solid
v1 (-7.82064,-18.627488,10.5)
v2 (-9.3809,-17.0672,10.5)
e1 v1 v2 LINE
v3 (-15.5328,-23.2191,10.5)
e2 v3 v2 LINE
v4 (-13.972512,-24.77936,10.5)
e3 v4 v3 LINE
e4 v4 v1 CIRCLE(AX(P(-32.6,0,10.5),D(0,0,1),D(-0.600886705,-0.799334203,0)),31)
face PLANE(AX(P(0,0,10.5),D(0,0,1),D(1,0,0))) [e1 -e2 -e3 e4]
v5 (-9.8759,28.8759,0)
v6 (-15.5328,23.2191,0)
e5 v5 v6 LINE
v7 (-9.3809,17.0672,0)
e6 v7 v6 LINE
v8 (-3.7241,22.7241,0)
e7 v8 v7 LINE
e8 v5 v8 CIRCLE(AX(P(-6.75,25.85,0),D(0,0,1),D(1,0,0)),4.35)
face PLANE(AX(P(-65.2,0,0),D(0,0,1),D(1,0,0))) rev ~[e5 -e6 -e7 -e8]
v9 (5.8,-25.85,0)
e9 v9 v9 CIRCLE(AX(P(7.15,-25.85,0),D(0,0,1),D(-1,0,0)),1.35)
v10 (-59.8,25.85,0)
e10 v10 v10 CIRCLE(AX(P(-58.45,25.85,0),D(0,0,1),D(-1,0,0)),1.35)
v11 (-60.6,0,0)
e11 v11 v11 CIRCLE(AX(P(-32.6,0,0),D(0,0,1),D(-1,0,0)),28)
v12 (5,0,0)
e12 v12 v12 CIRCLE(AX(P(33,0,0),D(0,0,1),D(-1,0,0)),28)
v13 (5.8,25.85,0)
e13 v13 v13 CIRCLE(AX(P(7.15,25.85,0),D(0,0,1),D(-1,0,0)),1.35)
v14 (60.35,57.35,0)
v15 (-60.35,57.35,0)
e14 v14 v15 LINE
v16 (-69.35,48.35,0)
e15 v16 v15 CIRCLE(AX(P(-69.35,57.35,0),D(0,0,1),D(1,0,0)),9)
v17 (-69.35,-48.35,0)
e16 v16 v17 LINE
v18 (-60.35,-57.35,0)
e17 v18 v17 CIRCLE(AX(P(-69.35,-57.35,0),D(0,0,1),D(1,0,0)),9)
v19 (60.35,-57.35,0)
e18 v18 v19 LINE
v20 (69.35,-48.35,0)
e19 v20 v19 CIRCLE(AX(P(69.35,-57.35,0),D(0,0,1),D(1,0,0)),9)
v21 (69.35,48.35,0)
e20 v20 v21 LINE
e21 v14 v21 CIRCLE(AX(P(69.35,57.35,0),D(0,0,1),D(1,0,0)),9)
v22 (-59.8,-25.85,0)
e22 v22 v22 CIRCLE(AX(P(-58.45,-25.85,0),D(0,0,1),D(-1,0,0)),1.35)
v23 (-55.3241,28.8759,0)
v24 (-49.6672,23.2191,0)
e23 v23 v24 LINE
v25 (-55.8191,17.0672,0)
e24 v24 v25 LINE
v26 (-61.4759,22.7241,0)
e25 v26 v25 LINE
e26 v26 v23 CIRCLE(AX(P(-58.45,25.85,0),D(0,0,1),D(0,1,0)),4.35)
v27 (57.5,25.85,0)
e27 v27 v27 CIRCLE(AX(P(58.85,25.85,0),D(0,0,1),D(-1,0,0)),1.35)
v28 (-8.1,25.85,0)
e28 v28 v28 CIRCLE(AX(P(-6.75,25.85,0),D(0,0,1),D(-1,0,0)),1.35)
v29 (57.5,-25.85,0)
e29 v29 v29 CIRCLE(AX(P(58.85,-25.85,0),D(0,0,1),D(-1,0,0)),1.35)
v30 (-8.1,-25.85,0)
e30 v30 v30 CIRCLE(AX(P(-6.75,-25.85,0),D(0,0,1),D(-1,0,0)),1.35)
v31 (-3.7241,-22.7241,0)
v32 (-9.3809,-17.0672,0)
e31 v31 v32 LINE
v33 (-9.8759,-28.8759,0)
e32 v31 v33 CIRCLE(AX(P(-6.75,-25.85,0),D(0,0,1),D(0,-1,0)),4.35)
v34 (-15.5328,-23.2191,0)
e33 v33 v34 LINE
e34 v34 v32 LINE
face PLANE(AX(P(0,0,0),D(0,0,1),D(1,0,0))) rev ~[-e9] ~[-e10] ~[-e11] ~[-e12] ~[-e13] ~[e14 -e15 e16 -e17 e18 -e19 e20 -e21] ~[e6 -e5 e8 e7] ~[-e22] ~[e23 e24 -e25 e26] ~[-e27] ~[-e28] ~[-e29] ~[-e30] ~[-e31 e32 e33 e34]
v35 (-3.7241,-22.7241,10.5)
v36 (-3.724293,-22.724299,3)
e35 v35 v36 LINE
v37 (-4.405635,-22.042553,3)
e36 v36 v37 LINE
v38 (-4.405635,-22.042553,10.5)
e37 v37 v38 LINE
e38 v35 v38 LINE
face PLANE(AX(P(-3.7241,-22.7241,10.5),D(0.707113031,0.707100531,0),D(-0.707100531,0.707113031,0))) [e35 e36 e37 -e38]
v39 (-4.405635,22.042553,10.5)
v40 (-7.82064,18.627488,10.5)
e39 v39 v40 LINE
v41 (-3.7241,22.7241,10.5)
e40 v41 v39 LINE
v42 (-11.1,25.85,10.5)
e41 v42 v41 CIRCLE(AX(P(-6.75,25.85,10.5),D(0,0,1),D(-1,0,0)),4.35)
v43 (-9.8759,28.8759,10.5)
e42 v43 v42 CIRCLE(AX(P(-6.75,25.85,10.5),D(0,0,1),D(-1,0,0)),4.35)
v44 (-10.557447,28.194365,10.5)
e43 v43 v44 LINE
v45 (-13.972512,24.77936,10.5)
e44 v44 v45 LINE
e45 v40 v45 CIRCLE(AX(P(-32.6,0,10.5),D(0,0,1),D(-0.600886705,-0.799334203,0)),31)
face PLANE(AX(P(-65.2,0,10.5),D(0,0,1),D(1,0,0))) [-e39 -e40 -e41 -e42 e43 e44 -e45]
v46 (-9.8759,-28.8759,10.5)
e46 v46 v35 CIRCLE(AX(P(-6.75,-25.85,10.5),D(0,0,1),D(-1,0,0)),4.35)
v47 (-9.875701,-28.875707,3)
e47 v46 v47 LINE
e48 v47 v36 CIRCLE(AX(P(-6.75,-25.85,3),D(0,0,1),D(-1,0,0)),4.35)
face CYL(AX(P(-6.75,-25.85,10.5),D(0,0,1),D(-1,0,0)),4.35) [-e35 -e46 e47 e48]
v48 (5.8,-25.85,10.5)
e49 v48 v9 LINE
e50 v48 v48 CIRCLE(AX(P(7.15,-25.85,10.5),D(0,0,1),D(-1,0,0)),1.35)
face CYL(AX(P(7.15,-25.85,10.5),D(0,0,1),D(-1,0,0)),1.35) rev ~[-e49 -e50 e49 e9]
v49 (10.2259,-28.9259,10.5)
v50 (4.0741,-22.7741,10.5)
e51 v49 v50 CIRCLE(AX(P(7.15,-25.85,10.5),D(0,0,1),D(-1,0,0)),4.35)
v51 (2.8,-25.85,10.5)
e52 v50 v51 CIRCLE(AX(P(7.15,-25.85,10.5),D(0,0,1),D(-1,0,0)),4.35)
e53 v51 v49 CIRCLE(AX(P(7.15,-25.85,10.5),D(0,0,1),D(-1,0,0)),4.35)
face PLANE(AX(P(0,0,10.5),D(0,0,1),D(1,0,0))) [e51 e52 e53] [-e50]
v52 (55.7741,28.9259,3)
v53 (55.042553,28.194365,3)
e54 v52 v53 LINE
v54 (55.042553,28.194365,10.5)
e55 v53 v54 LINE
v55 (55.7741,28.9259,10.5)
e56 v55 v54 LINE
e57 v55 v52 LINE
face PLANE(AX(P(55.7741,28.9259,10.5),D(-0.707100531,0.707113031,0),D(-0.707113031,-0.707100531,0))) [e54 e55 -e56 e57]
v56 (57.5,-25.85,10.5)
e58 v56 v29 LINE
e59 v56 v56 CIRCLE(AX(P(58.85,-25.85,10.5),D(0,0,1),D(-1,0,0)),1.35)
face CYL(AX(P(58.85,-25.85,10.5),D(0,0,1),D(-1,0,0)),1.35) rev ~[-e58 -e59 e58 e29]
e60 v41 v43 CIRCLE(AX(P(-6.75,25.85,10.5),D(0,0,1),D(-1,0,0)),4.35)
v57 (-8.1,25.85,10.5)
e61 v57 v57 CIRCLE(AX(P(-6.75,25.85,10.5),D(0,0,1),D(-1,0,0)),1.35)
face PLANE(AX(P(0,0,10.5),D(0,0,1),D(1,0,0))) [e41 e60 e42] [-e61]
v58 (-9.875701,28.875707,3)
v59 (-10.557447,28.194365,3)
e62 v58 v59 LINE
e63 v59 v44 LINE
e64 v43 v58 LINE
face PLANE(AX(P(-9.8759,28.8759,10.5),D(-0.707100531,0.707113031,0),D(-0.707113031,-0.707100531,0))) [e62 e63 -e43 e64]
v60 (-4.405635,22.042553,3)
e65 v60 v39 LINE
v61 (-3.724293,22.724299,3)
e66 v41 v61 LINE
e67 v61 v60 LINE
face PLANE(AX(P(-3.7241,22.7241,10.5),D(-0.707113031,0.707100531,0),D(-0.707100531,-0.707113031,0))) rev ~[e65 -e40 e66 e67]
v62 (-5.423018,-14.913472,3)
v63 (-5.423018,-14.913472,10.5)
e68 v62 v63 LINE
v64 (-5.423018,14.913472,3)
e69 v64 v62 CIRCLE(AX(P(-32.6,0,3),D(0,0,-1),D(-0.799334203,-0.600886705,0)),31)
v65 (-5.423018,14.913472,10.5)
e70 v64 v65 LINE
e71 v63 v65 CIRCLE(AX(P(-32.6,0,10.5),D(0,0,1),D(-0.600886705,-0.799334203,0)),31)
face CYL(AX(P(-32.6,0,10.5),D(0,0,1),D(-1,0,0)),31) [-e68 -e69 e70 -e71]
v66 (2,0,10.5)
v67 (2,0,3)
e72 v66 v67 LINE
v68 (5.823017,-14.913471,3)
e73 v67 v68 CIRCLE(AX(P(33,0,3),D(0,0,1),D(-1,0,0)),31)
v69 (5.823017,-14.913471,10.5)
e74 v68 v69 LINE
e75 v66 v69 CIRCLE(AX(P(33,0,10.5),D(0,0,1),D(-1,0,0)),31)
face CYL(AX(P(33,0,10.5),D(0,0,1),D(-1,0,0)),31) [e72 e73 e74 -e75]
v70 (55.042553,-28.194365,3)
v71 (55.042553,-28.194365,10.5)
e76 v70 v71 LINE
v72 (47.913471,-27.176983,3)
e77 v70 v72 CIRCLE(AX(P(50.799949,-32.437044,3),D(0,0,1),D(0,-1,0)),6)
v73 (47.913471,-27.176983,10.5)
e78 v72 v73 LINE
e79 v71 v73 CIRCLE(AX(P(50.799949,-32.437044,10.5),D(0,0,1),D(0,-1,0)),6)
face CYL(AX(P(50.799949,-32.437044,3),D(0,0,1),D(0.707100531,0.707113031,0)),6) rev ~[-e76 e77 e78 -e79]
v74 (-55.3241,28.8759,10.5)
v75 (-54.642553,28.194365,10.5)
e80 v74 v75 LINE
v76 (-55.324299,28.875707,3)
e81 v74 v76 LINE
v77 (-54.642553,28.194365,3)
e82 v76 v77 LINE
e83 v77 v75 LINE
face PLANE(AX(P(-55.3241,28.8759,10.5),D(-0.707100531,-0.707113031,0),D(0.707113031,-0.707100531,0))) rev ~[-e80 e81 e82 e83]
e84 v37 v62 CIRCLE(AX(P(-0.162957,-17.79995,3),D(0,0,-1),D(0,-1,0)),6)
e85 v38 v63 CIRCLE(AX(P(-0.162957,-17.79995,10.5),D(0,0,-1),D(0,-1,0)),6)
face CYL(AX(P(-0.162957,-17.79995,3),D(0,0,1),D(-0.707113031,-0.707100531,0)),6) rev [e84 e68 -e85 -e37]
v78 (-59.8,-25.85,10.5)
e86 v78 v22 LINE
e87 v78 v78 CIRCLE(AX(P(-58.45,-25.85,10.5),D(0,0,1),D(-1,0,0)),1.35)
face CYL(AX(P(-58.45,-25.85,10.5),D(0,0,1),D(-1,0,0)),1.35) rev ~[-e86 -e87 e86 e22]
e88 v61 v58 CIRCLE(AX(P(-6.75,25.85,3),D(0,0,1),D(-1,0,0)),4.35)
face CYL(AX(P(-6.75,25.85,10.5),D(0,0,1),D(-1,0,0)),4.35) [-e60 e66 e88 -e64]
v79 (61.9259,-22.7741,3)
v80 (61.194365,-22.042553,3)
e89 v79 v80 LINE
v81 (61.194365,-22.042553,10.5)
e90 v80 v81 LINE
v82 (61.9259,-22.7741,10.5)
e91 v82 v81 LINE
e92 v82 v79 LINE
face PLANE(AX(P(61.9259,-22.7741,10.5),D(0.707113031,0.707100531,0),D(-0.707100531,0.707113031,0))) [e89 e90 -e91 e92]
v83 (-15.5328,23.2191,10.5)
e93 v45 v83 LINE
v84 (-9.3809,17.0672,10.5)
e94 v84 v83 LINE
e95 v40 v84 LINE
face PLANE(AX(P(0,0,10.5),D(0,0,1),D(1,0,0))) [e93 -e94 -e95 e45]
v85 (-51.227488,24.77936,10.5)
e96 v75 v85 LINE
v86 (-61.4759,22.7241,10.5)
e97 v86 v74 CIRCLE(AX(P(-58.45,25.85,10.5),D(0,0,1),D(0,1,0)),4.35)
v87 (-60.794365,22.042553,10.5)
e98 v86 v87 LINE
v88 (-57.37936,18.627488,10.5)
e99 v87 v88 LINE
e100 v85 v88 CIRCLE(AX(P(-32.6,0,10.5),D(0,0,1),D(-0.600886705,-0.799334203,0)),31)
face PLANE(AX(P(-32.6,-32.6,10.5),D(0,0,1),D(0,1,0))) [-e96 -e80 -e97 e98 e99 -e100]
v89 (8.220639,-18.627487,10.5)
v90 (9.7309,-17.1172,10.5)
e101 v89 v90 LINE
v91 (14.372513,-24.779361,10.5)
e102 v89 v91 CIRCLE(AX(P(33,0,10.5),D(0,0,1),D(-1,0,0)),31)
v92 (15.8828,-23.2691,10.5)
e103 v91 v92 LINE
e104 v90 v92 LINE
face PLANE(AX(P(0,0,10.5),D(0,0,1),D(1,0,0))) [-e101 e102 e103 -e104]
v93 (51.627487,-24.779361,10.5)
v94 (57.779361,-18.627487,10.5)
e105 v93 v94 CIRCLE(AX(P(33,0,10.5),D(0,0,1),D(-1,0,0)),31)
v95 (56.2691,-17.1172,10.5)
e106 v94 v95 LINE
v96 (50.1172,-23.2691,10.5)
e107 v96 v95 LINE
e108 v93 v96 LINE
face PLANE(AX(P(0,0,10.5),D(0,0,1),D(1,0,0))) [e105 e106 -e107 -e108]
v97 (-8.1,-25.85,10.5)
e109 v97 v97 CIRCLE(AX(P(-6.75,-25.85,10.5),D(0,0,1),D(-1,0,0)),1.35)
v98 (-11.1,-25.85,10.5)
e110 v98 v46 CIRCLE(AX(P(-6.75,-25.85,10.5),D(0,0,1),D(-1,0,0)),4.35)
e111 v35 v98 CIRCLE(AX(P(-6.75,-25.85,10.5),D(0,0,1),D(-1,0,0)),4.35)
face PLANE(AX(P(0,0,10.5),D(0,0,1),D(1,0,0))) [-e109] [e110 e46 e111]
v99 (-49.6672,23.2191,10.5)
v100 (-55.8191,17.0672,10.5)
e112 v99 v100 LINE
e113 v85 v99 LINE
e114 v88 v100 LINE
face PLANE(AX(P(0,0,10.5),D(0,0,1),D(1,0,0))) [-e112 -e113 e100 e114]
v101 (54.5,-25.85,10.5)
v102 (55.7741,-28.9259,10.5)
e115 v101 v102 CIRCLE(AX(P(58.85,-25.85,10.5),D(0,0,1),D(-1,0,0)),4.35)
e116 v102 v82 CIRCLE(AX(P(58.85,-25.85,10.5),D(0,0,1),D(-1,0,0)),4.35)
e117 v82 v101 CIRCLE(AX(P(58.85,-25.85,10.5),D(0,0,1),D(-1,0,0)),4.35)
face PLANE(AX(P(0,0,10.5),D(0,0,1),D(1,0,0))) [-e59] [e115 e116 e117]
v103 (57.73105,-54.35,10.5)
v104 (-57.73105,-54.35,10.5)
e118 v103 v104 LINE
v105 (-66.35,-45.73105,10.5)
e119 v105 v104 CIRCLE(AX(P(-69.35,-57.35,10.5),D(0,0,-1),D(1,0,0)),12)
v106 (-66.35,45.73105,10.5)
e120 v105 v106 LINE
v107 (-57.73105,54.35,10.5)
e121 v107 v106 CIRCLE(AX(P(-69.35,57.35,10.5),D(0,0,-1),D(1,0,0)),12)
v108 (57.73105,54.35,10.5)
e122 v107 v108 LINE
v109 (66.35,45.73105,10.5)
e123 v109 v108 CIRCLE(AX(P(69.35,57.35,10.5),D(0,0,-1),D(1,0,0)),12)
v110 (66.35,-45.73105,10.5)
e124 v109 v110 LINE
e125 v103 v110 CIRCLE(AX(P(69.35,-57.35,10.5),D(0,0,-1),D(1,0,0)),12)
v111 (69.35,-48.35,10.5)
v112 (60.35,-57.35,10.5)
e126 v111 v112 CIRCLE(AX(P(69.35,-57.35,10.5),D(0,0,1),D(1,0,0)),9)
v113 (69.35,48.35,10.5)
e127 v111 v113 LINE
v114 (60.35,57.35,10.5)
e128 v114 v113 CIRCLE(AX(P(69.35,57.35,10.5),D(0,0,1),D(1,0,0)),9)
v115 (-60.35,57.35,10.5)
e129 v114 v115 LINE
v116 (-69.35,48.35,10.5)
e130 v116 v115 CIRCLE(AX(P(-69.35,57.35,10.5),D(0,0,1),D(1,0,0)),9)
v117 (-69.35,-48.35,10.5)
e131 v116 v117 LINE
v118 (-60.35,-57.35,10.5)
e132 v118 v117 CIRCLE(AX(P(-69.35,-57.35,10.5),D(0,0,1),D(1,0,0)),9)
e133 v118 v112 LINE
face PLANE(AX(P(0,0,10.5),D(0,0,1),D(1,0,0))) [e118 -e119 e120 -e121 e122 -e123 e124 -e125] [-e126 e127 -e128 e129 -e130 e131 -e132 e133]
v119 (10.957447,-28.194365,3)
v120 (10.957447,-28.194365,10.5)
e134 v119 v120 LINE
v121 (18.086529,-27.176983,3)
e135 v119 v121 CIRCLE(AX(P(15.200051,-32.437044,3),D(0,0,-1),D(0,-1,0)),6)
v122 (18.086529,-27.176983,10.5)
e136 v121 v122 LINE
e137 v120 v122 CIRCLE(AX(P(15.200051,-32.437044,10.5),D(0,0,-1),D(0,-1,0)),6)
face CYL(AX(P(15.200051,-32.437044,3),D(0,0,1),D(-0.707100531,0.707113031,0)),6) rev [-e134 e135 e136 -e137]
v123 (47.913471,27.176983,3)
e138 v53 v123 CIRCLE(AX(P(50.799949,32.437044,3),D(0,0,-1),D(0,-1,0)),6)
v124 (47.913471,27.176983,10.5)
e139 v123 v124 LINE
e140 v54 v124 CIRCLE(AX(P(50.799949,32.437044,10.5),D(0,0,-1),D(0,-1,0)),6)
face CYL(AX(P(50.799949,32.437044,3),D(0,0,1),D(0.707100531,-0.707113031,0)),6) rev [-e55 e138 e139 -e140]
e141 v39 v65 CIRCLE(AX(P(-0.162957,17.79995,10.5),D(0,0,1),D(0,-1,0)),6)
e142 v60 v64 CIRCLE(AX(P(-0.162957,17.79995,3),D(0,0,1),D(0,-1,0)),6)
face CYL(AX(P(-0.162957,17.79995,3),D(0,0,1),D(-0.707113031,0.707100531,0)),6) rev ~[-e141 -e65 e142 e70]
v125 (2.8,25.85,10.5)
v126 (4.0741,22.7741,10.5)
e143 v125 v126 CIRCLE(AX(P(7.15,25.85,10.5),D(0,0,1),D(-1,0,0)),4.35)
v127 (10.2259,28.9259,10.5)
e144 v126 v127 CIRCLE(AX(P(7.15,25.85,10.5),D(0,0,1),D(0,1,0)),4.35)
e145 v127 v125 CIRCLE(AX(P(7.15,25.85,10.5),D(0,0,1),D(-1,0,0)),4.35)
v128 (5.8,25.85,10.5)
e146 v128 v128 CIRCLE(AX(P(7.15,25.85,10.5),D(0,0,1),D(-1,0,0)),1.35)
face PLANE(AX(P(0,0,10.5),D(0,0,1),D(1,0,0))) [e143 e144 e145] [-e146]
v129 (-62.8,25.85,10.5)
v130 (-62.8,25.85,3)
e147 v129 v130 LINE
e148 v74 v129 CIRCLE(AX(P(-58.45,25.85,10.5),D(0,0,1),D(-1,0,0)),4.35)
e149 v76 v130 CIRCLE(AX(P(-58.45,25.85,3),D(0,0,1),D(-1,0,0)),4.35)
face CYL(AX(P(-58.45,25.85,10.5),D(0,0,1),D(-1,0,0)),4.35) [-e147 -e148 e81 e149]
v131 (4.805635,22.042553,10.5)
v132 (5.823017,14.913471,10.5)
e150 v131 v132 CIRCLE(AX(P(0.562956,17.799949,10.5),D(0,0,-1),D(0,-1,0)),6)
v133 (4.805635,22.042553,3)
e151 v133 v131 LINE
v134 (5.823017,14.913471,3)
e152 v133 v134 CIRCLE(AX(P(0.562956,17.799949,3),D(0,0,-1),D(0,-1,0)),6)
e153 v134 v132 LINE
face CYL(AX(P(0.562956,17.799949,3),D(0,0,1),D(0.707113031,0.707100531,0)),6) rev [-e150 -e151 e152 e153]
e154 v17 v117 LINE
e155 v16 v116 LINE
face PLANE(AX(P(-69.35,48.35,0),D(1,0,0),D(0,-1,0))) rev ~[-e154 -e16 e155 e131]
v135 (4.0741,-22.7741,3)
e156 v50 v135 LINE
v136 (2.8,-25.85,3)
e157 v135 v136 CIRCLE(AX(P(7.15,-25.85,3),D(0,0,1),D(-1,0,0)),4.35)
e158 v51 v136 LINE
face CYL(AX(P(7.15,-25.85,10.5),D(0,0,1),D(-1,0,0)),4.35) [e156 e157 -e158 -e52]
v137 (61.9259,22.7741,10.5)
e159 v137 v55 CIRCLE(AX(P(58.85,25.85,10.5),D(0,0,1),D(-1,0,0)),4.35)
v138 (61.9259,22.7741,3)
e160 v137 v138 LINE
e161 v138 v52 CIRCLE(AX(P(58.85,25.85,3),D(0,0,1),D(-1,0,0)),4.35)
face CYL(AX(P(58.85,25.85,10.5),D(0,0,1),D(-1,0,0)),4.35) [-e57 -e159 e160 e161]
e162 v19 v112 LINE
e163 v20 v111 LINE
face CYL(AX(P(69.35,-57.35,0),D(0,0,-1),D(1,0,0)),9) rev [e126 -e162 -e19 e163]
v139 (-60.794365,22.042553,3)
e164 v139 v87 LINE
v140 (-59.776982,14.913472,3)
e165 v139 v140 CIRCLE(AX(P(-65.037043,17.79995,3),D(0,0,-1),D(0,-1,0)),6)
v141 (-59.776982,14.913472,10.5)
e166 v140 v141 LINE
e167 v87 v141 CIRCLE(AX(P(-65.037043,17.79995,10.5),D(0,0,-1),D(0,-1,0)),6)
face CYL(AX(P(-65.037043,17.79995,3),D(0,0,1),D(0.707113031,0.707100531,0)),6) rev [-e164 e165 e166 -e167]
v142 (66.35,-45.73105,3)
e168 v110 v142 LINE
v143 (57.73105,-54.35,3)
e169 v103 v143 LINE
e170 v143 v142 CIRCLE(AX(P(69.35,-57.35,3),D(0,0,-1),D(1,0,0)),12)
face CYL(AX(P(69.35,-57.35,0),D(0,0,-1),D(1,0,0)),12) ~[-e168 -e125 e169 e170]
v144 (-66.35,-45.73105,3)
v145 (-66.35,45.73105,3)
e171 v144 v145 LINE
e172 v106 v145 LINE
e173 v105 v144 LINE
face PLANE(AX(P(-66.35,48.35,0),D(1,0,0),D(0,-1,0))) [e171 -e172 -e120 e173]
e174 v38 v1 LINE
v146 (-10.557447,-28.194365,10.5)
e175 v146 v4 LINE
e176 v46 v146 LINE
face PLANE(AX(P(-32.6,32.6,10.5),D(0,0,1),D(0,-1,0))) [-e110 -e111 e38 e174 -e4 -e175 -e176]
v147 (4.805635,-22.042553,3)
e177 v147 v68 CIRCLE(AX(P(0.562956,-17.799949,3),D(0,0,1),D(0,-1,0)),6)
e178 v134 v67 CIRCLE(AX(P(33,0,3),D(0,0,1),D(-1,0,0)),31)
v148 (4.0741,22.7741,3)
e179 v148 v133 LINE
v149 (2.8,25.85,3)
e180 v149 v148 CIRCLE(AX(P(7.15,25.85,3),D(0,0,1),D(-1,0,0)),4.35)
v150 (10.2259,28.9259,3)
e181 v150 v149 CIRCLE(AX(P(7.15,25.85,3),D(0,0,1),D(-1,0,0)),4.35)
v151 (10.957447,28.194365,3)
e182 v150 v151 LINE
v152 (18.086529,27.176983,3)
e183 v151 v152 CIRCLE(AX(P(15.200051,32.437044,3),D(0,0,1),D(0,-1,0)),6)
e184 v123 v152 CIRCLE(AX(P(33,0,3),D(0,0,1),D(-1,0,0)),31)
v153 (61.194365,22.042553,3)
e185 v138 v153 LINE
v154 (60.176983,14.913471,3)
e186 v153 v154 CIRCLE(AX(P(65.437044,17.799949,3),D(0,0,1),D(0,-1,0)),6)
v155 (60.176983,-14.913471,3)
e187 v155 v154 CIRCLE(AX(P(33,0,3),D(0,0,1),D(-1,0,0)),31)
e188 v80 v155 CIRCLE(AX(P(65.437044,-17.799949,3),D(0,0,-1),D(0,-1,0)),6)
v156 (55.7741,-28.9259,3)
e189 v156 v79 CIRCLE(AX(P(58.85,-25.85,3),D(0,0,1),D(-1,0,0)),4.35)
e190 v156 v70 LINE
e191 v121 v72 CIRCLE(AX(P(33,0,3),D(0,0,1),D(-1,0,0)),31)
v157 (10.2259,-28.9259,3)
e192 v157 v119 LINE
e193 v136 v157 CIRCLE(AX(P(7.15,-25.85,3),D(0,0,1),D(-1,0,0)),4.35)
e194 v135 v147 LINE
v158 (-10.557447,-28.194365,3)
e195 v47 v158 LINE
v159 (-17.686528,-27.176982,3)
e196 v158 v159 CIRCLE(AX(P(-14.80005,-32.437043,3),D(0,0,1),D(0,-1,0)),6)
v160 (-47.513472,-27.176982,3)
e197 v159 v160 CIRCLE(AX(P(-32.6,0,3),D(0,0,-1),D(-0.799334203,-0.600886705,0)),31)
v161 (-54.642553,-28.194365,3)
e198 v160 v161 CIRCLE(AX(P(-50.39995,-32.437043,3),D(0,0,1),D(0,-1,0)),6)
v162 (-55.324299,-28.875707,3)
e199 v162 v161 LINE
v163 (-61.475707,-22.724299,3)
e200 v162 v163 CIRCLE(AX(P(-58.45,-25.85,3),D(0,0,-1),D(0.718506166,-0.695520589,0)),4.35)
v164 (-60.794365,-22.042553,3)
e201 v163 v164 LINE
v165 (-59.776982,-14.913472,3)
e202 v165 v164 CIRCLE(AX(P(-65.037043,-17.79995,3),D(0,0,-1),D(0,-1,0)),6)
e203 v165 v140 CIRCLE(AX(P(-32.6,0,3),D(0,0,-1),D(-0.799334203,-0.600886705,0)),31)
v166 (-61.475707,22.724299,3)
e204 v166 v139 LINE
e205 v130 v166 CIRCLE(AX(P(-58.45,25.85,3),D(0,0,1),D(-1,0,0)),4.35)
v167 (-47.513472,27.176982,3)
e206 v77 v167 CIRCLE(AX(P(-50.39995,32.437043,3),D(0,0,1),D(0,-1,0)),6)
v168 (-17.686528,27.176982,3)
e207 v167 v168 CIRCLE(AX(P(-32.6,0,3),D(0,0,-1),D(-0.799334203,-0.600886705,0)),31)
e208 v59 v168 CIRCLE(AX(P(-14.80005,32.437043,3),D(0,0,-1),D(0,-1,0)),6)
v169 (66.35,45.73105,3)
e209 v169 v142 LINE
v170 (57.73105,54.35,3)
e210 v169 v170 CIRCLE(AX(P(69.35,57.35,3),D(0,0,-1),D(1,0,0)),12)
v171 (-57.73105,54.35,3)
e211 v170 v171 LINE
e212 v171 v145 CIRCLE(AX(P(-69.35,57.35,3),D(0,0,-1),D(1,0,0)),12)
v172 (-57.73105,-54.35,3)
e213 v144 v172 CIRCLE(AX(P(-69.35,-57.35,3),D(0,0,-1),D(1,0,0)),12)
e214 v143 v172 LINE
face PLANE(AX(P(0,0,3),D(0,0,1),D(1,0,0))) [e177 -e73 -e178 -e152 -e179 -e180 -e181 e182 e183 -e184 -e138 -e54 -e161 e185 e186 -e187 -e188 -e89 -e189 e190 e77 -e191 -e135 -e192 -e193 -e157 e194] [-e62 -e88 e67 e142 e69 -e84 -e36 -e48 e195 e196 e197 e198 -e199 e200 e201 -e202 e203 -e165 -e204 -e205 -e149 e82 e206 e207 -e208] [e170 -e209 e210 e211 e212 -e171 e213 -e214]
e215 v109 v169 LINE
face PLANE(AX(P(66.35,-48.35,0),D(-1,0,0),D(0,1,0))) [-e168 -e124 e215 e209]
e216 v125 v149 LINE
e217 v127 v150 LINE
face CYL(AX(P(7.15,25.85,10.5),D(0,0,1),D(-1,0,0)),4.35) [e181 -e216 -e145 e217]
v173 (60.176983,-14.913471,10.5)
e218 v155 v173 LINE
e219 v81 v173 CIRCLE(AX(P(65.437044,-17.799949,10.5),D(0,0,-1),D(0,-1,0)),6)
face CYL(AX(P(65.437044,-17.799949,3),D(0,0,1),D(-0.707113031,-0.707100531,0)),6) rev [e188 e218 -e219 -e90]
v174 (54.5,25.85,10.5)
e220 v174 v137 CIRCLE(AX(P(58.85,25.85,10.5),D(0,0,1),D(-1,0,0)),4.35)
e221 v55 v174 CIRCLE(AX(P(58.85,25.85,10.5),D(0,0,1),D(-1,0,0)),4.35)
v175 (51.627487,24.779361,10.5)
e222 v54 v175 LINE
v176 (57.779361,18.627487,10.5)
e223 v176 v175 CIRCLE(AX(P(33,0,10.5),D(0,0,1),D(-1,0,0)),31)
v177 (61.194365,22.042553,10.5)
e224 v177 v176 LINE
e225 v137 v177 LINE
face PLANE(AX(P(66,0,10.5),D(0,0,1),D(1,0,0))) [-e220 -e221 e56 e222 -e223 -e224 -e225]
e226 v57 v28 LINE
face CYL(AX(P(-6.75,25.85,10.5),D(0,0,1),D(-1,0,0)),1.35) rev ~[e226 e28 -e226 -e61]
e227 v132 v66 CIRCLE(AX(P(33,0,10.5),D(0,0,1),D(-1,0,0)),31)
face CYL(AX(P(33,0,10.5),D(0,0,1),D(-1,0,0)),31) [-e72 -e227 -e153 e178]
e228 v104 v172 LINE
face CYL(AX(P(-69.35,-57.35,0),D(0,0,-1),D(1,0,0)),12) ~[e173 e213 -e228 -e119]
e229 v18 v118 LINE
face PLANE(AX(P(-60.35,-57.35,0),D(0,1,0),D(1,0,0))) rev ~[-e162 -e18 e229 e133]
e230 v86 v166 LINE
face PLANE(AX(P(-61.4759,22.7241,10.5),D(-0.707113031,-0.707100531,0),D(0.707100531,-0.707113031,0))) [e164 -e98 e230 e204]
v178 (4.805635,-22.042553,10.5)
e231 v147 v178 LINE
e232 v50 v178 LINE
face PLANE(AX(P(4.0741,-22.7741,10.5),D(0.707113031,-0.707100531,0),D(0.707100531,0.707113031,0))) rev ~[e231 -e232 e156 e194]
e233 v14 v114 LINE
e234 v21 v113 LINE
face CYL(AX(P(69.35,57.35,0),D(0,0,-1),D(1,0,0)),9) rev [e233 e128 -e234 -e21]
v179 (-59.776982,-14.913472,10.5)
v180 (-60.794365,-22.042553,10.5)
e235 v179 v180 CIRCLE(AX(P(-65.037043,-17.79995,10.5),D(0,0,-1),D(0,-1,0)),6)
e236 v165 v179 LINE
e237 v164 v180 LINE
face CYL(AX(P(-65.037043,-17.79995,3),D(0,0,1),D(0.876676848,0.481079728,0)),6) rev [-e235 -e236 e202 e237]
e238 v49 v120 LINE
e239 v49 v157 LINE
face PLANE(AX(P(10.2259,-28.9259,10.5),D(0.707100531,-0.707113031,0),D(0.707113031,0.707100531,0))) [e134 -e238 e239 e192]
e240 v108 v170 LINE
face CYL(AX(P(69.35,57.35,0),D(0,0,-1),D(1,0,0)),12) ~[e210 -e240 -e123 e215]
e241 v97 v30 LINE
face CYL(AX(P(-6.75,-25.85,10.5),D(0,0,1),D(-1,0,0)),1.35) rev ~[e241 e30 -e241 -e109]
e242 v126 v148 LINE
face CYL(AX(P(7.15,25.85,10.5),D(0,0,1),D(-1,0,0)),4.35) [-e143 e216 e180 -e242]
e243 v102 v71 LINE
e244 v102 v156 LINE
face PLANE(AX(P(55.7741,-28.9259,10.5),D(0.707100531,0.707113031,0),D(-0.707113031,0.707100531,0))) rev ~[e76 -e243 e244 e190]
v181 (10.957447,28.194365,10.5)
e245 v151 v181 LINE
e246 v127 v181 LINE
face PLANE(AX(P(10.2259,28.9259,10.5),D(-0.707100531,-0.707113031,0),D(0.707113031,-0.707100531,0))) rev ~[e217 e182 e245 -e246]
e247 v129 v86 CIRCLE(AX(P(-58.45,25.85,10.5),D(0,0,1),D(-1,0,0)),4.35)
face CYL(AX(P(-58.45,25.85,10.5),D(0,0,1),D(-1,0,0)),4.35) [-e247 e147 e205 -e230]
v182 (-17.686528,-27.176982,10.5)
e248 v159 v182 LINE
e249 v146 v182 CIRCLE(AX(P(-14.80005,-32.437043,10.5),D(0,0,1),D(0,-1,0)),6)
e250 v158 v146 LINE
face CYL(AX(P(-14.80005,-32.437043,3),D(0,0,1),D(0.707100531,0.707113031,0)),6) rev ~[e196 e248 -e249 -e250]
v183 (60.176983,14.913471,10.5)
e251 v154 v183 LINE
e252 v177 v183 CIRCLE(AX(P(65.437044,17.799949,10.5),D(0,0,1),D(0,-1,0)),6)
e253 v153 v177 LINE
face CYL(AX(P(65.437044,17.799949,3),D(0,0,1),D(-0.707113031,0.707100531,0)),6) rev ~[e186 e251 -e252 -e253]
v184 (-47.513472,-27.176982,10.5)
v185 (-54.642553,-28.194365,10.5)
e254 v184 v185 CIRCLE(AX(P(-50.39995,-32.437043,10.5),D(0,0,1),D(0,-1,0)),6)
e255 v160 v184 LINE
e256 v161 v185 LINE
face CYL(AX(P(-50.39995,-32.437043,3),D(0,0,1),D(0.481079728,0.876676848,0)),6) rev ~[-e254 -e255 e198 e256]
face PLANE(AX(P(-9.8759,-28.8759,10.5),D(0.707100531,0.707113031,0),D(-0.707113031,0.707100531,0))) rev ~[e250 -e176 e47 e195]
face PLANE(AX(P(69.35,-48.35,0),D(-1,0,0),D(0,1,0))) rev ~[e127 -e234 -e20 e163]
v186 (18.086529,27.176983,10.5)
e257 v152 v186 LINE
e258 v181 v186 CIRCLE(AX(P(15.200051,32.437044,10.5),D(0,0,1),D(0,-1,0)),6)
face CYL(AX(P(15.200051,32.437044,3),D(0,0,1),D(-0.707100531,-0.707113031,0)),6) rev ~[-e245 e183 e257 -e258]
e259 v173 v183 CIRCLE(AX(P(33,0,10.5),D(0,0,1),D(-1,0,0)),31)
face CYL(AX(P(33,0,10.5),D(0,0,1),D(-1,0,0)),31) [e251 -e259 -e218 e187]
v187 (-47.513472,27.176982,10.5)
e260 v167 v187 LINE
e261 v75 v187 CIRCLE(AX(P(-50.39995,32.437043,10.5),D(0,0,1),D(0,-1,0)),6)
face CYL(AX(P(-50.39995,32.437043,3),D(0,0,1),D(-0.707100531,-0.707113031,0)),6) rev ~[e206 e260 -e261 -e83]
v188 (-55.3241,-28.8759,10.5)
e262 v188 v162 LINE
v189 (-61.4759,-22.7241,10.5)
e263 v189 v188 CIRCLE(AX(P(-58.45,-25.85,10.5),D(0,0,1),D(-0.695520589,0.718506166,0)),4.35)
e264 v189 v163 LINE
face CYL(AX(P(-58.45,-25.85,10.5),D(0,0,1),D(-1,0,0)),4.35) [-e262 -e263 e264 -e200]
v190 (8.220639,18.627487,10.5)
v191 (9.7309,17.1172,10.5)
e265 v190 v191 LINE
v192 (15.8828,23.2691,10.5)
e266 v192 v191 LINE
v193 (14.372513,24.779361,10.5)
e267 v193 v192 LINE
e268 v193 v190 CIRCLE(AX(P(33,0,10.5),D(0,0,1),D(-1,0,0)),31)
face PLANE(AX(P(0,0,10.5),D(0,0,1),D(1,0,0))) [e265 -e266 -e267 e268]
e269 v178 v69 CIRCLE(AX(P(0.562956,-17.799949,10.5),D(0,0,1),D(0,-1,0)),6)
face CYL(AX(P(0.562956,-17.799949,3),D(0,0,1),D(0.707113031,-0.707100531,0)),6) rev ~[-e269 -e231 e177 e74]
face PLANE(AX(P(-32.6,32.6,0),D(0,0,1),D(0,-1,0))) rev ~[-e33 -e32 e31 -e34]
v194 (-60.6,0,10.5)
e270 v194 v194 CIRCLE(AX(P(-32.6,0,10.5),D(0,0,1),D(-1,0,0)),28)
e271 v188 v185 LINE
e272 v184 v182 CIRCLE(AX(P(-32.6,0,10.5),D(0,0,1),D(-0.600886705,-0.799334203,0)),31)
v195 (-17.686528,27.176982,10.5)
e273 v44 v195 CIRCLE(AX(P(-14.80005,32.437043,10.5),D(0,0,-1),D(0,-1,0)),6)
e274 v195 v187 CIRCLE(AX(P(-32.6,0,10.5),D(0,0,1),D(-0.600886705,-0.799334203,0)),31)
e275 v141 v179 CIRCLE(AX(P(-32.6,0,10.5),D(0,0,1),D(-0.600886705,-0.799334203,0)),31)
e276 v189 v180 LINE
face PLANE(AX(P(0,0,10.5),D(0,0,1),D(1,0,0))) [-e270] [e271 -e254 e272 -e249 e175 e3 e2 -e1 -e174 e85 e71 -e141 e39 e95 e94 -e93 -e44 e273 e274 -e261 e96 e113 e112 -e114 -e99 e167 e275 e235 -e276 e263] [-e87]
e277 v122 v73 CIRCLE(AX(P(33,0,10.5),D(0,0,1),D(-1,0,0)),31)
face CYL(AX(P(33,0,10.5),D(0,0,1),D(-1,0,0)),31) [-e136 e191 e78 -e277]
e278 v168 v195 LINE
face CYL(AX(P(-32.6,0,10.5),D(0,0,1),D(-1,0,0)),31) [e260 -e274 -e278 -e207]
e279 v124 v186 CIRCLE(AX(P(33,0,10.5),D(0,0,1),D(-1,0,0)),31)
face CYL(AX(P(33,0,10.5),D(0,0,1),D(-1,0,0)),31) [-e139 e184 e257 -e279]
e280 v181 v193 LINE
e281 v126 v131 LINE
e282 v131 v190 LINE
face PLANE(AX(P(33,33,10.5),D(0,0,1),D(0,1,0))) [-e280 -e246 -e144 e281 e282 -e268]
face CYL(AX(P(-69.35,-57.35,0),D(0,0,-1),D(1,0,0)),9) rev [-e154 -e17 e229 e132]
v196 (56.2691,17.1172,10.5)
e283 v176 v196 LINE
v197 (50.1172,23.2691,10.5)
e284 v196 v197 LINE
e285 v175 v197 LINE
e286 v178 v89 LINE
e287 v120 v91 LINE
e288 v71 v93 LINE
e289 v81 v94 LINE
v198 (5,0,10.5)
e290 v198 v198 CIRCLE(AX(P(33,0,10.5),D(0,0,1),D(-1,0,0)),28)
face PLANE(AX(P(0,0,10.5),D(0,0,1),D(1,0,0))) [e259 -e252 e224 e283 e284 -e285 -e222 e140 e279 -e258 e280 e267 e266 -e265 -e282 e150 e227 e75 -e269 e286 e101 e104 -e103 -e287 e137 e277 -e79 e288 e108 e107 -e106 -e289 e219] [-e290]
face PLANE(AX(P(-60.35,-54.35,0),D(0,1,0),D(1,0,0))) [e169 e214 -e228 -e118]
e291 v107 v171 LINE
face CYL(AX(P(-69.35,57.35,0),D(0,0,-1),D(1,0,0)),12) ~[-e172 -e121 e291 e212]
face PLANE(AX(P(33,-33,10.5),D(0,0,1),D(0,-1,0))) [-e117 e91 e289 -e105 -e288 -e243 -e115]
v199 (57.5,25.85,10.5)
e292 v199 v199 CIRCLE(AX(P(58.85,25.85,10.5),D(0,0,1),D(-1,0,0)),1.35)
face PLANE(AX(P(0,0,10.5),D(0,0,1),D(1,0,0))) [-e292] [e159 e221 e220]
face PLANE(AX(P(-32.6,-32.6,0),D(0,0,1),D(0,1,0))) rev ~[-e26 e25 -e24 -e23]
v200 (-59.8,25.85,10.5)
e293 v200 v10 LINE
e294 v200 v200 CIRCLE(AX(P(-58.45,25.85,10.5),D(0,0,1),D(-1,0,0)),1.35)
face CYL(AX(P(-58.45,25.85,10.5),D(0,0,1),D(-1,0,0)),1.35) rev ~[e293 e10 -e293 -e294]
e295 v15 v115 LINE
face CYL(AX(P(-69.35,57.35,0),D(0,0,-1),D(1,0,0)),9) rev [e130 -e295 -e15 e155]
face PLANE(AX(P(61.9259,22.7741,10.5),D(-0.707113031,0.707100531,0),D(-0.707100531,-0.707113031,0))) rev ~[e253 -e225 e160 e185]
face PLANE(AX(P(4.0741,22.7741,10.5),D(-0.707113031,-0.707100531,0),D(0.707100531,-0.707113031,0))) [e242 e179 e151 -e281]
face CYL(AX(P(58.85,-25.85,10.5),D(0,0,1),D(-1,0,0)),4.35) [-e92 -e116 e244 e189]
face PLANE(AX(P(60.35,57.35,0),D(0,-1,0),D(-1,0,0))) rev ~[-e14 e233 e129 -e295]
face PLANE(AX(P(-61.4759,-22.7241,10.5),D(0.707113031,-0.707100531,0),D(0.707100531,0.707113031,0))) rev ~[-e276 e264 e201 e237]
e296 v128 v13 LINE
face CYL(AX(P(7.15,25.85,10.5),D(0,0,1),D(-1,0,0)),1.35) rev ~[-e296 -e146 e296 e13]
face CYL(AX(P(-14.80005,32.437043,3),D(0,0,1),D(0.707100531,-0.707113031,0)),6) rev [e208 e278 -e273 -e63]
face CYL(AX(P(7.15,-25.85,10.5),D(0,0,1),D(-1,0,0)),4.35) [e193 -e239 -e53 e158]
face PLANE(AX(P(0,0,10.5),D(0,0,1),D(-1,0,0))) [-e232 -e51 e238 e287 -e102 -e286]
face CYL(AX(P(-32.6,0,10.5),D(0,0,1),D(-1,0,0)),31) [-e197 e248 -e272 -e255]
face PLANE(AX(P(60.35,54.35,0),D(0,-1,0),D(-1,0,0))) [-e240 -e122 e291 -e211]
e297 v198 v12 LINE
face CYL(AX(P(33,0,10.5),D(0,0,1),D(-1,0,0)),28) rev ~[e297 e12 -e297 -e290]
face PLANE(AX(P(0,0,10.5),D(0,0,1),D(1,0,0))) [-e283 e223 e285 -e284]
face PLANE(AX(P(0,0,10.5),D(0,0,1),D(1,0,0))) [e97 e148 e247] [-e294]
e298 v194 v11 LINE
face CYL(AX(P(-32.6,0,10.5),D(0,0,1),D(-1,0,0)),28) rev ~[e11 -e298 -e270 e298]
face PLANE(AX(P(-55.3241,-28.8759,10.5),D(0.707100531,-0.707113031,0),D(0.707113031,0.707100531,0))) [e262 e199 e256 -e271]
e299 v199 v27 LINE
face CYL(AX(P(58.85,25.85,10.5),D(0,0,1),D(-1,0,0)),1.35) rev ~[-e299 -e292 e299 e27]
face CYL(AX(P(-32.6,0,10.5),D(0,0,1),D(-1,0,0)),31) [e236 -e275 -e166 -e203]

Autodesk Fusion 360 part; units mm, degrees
sketch "Sketch1" plane through (0, 0, 0) normal (0, 0, 1) x (1, 0, 0)
  line L0 (69.35, 57.35) -> (-69.35, 57.35)
  line L1 (-69.35, 57.35) -> (-69.35, -57.35)
  line L2 (-69.35, -57.35) -> (69.35, -57.35)
  line L3 (69.35, -57.35) -> (69.35, 57.35)
  line L4 (69.35, 57.35) -> (-69.35, -57.35) construction
  line L5 (-69.35, 57.35) -> (69.35, -57.35) construction
  circle A0 centre (-69.35, -57.35) radius 9
  circle A1 centre (-69.35, 57.35) radius 9
  circle A2 centre (69.35, 57.35) radius 9
  circle A3 centre (69.35, -57.35) radius 9
  line L6 (-69.35, 0) -> (69.35, 0) construction
  line L7 (0, 57.35) -> (0, -57.35) construction
  dimension "d1" = 138.7
  dimension "d2" = 114.7
  dimension "d3" = 18
  dimension "d4" = 18
  dimension "d5" = 18
  dimension "d6" = 18
extrude "Extrude1" add sketch "Sketch1" along normal blind 10.5 contours L0 L1 L2 L3 A0 A1 A2 A3
sketch "Sketch2" plane through (0, 0, 10.5) normal (0, 0, 1) x (-1, 0, 0)
  line L0 (69.35, -48.35) -> (69.35, 48.35)
  arc A0 (60.35, 57.35) -> (69.35, 48.35) centre (69.35, 57.35) ccw
  line L1 (60.35, 57.35) -> (-60.35, 57.35)
  arc A1 (-69.35, 48.35) -> (-60.35, 57.35) centre (-69.35, 57.35) ccw
  line L2 (-69.35, 48.35) -> (-69.35, -48.35)
  arc A2 (-60.35, -57.35) -> (-69.35, -48.35) centre (-69.35, -57.35) ccw
  line L3 (-60.35, -57.35) -> (60.35, -57.35)
  arc A3 (69.35, -48.35) -> (60.35, -57.35) centre (69.35, -57.35) ccw
  line L4 (69.35, 0) -> (-69.8, 0) construction
  line L5 (0, -57.35) -> (0, 57.35) construction
  circle A4 centre (32.6, 0) radius 28
  circle A5 centre (-33, 0) radius 28
  line L6 (-5, -37.1014) -> (-5, 36.8081) construction
  line L7 (4.6, -36.5148) -> (4.6, 40.6209) construction
  line L8 (-61, -35.195) -> (-61, 33.5819) construction
  line L9 (60.6, -36.0749) -> (60.6, 31.9688) construction
  line L10 (53.819, 28) -> (8.2122, 28) construction
  line L11 (-10.8518, 28) -> (-54.5522, 28) construction
  line L12 (6.75, -25.85) -> (58.45, -25.85) construction
  line L13 (58.45, -25.85) -> (58.45, 25.85) construction
  line L14 (58.45, 25.85) -> (6.75, 25.85) construction
  line L15 (6.75, 25.85) -> (6.75, -25.85) construction
  line L16 (6.75, -25.85) -> (58.45, 25.85) construction
  line L17 (58.45, -25.85) -> (6.75, 25.85) construction
  line L18 (-58.85, -25.85) -> (-7.15, -25.85) construction
  line L19 (-7.15, -25.85) -> (-7.15, 25.85) construction
  line L20 (-7.15, 25.85) -> (-58.85, 25.85) construction
  line L21 (-58.85, 25.85) -> (-58.85, -25.85) construction
  line L22 (-58.85, -25.85) -> (-7.15, 25.85) construction
  line L23 (-7.15, -25.85) -> (-58.85, 25.85) construction
  circle A6 centre (58.45, -25.85) radius 1.35
  circle A7 centre (6.75, 25.85) radius 1.35
  circle A8 centre (6.75, -25.85) radius 1.35
  circle A9 centre (-7.15, -25.85) radius 1.35
  circle A10 centre (-7.15, 25.85) radius 1.35
  circle A11 centre (-58.85, 25.85) radius 1.35
  circle A12 centre (-58.85, -25.85) radius 1.35
  circle A13 centre (58.45, 25.85) radius 1.35
  line L24 (-69.35, 30) -> (70.3, 30)
  line L25 (69.35, -30) -> (-69.35, -30)
  line L26 (51.0272, -28) -> (12.0546, -28) construction
  point P0 (32.6, 0)
  point P1 (-33, 0)
  dimension "d9" = 56
  dimension "d10" = 56
  dimension "d11" = 65.6
  dimension "d12" = 9.6
  dimension "d16" = 29.35
  dimension "d17" = 51.7
  dimension "d18" = 51.7
  dimension "d19" = 51.7
  dimension "d20" = 51.7
  dimension "d21" = 2.7
  dimension "d22" = 2.7
  dimension "d23" = 2.7
  dimension "d24" = 2.7
  dimension "d25" = 2.7
  dimension "d26" = 2.7
  dimension "d27" = 2.7
  dimension "d28" = 2.7
  dimension "d31" = 2
  dimension "d32" = 2
extrude "Extrude2" cut sketch "Sketch2" against normal up to surface (10.5 mm away) contours A4 | A5 | A6 | A7 | A8 | A9 | A10 | A11 | A12 | A13
shell "Shell1" thickness 3 removed faces 1 at (-2.25, -47.3, 10.5)
sketch "Sketch3" plane through (0, 0, 10.5) normal (0, 0, 1) x (-1, 0, 0)
  circle A0 centre (58.45, 25.85) radius 4.35
  circle A1 centre (58.45, 25.85) radius 1.35
  line L0 (96.2828, -12.0828) -> (58.4, 25.8)
  line L1 (58.4, 25.8) -> (37.8385, 46.3615)
  line L2 (76.0799, 25.8) -> (20.4357, 25.8) construction
  line L3 (55.3241, 28.8759) -> (49.6672, 23.2191)
  line L4 (61.4759, 22.7241) -> (55.8191, 17.0672)
  line L5 (55.8191, 17.0672) -> (49.6672, 23.2191)
  dimension "d34" = 45
  dimension "d35" = 8
  dimension "d36" = 8
extrude "Extrude3" add sketch "Sketch3" against normal up to surface (10.5 mm away) contours A0 L3 L4 L5
fillet "Fillet1" radius 6 2 edges at (-51.2275, -24.7793, 6.75) (-57.3793, -18.6275, 6.75)
pattern_circular "C-Pattern1" count 4 over 360 about axis through (-32.6, 0, -2.1) along (0, 0, 1) of "Extrude3", "Fillet1"
sketch "Sketch4" plane through (0, 0, 10.5) normal (0, 0, 1) x (-1, 0, 0)
  circle A0 centre (-7.15, 25.85) radius 4.35
  circle A1 centre (-7.15, 25.85) radius 1.35
  line L0 (-27.2826, 33.6671) -> (20.0548, 33.6671) construction
  line L1 (-7.15, 25.85) -> (-21.4201, 40.1201) construction
  line L2 (-7.15, 25.85) -> (1.607, 17.093) construction
  line L3 (-10.2259, 28.9259) -> (-15.8828, 23.2691)
  line L4 (-4.0741, 22.7741) -> (-9.7309, 17.1172)
  line L5 (-9.7309, 17.1172) -> (-15.8828, 23.2691)
  dimension "d43" = 45
  dimension "d44" = 8
  dimension "d45" = 8
extrude "Extrude4" add sketch "Sketch4" against normal up to surface (7.5 mm away) contours A0 L3 L4 L5
fillet "Fillet2" radius 6 2 edges at (14.3725, -24.7793, 6.75) (8.2207, -18.6275, 6.75)
pattern_circular "C-Pattern2" count 4 over 360 about axis through (33, 0, -2.1) along (0, 0, 1) of "Extrude4", "Fillet2"
